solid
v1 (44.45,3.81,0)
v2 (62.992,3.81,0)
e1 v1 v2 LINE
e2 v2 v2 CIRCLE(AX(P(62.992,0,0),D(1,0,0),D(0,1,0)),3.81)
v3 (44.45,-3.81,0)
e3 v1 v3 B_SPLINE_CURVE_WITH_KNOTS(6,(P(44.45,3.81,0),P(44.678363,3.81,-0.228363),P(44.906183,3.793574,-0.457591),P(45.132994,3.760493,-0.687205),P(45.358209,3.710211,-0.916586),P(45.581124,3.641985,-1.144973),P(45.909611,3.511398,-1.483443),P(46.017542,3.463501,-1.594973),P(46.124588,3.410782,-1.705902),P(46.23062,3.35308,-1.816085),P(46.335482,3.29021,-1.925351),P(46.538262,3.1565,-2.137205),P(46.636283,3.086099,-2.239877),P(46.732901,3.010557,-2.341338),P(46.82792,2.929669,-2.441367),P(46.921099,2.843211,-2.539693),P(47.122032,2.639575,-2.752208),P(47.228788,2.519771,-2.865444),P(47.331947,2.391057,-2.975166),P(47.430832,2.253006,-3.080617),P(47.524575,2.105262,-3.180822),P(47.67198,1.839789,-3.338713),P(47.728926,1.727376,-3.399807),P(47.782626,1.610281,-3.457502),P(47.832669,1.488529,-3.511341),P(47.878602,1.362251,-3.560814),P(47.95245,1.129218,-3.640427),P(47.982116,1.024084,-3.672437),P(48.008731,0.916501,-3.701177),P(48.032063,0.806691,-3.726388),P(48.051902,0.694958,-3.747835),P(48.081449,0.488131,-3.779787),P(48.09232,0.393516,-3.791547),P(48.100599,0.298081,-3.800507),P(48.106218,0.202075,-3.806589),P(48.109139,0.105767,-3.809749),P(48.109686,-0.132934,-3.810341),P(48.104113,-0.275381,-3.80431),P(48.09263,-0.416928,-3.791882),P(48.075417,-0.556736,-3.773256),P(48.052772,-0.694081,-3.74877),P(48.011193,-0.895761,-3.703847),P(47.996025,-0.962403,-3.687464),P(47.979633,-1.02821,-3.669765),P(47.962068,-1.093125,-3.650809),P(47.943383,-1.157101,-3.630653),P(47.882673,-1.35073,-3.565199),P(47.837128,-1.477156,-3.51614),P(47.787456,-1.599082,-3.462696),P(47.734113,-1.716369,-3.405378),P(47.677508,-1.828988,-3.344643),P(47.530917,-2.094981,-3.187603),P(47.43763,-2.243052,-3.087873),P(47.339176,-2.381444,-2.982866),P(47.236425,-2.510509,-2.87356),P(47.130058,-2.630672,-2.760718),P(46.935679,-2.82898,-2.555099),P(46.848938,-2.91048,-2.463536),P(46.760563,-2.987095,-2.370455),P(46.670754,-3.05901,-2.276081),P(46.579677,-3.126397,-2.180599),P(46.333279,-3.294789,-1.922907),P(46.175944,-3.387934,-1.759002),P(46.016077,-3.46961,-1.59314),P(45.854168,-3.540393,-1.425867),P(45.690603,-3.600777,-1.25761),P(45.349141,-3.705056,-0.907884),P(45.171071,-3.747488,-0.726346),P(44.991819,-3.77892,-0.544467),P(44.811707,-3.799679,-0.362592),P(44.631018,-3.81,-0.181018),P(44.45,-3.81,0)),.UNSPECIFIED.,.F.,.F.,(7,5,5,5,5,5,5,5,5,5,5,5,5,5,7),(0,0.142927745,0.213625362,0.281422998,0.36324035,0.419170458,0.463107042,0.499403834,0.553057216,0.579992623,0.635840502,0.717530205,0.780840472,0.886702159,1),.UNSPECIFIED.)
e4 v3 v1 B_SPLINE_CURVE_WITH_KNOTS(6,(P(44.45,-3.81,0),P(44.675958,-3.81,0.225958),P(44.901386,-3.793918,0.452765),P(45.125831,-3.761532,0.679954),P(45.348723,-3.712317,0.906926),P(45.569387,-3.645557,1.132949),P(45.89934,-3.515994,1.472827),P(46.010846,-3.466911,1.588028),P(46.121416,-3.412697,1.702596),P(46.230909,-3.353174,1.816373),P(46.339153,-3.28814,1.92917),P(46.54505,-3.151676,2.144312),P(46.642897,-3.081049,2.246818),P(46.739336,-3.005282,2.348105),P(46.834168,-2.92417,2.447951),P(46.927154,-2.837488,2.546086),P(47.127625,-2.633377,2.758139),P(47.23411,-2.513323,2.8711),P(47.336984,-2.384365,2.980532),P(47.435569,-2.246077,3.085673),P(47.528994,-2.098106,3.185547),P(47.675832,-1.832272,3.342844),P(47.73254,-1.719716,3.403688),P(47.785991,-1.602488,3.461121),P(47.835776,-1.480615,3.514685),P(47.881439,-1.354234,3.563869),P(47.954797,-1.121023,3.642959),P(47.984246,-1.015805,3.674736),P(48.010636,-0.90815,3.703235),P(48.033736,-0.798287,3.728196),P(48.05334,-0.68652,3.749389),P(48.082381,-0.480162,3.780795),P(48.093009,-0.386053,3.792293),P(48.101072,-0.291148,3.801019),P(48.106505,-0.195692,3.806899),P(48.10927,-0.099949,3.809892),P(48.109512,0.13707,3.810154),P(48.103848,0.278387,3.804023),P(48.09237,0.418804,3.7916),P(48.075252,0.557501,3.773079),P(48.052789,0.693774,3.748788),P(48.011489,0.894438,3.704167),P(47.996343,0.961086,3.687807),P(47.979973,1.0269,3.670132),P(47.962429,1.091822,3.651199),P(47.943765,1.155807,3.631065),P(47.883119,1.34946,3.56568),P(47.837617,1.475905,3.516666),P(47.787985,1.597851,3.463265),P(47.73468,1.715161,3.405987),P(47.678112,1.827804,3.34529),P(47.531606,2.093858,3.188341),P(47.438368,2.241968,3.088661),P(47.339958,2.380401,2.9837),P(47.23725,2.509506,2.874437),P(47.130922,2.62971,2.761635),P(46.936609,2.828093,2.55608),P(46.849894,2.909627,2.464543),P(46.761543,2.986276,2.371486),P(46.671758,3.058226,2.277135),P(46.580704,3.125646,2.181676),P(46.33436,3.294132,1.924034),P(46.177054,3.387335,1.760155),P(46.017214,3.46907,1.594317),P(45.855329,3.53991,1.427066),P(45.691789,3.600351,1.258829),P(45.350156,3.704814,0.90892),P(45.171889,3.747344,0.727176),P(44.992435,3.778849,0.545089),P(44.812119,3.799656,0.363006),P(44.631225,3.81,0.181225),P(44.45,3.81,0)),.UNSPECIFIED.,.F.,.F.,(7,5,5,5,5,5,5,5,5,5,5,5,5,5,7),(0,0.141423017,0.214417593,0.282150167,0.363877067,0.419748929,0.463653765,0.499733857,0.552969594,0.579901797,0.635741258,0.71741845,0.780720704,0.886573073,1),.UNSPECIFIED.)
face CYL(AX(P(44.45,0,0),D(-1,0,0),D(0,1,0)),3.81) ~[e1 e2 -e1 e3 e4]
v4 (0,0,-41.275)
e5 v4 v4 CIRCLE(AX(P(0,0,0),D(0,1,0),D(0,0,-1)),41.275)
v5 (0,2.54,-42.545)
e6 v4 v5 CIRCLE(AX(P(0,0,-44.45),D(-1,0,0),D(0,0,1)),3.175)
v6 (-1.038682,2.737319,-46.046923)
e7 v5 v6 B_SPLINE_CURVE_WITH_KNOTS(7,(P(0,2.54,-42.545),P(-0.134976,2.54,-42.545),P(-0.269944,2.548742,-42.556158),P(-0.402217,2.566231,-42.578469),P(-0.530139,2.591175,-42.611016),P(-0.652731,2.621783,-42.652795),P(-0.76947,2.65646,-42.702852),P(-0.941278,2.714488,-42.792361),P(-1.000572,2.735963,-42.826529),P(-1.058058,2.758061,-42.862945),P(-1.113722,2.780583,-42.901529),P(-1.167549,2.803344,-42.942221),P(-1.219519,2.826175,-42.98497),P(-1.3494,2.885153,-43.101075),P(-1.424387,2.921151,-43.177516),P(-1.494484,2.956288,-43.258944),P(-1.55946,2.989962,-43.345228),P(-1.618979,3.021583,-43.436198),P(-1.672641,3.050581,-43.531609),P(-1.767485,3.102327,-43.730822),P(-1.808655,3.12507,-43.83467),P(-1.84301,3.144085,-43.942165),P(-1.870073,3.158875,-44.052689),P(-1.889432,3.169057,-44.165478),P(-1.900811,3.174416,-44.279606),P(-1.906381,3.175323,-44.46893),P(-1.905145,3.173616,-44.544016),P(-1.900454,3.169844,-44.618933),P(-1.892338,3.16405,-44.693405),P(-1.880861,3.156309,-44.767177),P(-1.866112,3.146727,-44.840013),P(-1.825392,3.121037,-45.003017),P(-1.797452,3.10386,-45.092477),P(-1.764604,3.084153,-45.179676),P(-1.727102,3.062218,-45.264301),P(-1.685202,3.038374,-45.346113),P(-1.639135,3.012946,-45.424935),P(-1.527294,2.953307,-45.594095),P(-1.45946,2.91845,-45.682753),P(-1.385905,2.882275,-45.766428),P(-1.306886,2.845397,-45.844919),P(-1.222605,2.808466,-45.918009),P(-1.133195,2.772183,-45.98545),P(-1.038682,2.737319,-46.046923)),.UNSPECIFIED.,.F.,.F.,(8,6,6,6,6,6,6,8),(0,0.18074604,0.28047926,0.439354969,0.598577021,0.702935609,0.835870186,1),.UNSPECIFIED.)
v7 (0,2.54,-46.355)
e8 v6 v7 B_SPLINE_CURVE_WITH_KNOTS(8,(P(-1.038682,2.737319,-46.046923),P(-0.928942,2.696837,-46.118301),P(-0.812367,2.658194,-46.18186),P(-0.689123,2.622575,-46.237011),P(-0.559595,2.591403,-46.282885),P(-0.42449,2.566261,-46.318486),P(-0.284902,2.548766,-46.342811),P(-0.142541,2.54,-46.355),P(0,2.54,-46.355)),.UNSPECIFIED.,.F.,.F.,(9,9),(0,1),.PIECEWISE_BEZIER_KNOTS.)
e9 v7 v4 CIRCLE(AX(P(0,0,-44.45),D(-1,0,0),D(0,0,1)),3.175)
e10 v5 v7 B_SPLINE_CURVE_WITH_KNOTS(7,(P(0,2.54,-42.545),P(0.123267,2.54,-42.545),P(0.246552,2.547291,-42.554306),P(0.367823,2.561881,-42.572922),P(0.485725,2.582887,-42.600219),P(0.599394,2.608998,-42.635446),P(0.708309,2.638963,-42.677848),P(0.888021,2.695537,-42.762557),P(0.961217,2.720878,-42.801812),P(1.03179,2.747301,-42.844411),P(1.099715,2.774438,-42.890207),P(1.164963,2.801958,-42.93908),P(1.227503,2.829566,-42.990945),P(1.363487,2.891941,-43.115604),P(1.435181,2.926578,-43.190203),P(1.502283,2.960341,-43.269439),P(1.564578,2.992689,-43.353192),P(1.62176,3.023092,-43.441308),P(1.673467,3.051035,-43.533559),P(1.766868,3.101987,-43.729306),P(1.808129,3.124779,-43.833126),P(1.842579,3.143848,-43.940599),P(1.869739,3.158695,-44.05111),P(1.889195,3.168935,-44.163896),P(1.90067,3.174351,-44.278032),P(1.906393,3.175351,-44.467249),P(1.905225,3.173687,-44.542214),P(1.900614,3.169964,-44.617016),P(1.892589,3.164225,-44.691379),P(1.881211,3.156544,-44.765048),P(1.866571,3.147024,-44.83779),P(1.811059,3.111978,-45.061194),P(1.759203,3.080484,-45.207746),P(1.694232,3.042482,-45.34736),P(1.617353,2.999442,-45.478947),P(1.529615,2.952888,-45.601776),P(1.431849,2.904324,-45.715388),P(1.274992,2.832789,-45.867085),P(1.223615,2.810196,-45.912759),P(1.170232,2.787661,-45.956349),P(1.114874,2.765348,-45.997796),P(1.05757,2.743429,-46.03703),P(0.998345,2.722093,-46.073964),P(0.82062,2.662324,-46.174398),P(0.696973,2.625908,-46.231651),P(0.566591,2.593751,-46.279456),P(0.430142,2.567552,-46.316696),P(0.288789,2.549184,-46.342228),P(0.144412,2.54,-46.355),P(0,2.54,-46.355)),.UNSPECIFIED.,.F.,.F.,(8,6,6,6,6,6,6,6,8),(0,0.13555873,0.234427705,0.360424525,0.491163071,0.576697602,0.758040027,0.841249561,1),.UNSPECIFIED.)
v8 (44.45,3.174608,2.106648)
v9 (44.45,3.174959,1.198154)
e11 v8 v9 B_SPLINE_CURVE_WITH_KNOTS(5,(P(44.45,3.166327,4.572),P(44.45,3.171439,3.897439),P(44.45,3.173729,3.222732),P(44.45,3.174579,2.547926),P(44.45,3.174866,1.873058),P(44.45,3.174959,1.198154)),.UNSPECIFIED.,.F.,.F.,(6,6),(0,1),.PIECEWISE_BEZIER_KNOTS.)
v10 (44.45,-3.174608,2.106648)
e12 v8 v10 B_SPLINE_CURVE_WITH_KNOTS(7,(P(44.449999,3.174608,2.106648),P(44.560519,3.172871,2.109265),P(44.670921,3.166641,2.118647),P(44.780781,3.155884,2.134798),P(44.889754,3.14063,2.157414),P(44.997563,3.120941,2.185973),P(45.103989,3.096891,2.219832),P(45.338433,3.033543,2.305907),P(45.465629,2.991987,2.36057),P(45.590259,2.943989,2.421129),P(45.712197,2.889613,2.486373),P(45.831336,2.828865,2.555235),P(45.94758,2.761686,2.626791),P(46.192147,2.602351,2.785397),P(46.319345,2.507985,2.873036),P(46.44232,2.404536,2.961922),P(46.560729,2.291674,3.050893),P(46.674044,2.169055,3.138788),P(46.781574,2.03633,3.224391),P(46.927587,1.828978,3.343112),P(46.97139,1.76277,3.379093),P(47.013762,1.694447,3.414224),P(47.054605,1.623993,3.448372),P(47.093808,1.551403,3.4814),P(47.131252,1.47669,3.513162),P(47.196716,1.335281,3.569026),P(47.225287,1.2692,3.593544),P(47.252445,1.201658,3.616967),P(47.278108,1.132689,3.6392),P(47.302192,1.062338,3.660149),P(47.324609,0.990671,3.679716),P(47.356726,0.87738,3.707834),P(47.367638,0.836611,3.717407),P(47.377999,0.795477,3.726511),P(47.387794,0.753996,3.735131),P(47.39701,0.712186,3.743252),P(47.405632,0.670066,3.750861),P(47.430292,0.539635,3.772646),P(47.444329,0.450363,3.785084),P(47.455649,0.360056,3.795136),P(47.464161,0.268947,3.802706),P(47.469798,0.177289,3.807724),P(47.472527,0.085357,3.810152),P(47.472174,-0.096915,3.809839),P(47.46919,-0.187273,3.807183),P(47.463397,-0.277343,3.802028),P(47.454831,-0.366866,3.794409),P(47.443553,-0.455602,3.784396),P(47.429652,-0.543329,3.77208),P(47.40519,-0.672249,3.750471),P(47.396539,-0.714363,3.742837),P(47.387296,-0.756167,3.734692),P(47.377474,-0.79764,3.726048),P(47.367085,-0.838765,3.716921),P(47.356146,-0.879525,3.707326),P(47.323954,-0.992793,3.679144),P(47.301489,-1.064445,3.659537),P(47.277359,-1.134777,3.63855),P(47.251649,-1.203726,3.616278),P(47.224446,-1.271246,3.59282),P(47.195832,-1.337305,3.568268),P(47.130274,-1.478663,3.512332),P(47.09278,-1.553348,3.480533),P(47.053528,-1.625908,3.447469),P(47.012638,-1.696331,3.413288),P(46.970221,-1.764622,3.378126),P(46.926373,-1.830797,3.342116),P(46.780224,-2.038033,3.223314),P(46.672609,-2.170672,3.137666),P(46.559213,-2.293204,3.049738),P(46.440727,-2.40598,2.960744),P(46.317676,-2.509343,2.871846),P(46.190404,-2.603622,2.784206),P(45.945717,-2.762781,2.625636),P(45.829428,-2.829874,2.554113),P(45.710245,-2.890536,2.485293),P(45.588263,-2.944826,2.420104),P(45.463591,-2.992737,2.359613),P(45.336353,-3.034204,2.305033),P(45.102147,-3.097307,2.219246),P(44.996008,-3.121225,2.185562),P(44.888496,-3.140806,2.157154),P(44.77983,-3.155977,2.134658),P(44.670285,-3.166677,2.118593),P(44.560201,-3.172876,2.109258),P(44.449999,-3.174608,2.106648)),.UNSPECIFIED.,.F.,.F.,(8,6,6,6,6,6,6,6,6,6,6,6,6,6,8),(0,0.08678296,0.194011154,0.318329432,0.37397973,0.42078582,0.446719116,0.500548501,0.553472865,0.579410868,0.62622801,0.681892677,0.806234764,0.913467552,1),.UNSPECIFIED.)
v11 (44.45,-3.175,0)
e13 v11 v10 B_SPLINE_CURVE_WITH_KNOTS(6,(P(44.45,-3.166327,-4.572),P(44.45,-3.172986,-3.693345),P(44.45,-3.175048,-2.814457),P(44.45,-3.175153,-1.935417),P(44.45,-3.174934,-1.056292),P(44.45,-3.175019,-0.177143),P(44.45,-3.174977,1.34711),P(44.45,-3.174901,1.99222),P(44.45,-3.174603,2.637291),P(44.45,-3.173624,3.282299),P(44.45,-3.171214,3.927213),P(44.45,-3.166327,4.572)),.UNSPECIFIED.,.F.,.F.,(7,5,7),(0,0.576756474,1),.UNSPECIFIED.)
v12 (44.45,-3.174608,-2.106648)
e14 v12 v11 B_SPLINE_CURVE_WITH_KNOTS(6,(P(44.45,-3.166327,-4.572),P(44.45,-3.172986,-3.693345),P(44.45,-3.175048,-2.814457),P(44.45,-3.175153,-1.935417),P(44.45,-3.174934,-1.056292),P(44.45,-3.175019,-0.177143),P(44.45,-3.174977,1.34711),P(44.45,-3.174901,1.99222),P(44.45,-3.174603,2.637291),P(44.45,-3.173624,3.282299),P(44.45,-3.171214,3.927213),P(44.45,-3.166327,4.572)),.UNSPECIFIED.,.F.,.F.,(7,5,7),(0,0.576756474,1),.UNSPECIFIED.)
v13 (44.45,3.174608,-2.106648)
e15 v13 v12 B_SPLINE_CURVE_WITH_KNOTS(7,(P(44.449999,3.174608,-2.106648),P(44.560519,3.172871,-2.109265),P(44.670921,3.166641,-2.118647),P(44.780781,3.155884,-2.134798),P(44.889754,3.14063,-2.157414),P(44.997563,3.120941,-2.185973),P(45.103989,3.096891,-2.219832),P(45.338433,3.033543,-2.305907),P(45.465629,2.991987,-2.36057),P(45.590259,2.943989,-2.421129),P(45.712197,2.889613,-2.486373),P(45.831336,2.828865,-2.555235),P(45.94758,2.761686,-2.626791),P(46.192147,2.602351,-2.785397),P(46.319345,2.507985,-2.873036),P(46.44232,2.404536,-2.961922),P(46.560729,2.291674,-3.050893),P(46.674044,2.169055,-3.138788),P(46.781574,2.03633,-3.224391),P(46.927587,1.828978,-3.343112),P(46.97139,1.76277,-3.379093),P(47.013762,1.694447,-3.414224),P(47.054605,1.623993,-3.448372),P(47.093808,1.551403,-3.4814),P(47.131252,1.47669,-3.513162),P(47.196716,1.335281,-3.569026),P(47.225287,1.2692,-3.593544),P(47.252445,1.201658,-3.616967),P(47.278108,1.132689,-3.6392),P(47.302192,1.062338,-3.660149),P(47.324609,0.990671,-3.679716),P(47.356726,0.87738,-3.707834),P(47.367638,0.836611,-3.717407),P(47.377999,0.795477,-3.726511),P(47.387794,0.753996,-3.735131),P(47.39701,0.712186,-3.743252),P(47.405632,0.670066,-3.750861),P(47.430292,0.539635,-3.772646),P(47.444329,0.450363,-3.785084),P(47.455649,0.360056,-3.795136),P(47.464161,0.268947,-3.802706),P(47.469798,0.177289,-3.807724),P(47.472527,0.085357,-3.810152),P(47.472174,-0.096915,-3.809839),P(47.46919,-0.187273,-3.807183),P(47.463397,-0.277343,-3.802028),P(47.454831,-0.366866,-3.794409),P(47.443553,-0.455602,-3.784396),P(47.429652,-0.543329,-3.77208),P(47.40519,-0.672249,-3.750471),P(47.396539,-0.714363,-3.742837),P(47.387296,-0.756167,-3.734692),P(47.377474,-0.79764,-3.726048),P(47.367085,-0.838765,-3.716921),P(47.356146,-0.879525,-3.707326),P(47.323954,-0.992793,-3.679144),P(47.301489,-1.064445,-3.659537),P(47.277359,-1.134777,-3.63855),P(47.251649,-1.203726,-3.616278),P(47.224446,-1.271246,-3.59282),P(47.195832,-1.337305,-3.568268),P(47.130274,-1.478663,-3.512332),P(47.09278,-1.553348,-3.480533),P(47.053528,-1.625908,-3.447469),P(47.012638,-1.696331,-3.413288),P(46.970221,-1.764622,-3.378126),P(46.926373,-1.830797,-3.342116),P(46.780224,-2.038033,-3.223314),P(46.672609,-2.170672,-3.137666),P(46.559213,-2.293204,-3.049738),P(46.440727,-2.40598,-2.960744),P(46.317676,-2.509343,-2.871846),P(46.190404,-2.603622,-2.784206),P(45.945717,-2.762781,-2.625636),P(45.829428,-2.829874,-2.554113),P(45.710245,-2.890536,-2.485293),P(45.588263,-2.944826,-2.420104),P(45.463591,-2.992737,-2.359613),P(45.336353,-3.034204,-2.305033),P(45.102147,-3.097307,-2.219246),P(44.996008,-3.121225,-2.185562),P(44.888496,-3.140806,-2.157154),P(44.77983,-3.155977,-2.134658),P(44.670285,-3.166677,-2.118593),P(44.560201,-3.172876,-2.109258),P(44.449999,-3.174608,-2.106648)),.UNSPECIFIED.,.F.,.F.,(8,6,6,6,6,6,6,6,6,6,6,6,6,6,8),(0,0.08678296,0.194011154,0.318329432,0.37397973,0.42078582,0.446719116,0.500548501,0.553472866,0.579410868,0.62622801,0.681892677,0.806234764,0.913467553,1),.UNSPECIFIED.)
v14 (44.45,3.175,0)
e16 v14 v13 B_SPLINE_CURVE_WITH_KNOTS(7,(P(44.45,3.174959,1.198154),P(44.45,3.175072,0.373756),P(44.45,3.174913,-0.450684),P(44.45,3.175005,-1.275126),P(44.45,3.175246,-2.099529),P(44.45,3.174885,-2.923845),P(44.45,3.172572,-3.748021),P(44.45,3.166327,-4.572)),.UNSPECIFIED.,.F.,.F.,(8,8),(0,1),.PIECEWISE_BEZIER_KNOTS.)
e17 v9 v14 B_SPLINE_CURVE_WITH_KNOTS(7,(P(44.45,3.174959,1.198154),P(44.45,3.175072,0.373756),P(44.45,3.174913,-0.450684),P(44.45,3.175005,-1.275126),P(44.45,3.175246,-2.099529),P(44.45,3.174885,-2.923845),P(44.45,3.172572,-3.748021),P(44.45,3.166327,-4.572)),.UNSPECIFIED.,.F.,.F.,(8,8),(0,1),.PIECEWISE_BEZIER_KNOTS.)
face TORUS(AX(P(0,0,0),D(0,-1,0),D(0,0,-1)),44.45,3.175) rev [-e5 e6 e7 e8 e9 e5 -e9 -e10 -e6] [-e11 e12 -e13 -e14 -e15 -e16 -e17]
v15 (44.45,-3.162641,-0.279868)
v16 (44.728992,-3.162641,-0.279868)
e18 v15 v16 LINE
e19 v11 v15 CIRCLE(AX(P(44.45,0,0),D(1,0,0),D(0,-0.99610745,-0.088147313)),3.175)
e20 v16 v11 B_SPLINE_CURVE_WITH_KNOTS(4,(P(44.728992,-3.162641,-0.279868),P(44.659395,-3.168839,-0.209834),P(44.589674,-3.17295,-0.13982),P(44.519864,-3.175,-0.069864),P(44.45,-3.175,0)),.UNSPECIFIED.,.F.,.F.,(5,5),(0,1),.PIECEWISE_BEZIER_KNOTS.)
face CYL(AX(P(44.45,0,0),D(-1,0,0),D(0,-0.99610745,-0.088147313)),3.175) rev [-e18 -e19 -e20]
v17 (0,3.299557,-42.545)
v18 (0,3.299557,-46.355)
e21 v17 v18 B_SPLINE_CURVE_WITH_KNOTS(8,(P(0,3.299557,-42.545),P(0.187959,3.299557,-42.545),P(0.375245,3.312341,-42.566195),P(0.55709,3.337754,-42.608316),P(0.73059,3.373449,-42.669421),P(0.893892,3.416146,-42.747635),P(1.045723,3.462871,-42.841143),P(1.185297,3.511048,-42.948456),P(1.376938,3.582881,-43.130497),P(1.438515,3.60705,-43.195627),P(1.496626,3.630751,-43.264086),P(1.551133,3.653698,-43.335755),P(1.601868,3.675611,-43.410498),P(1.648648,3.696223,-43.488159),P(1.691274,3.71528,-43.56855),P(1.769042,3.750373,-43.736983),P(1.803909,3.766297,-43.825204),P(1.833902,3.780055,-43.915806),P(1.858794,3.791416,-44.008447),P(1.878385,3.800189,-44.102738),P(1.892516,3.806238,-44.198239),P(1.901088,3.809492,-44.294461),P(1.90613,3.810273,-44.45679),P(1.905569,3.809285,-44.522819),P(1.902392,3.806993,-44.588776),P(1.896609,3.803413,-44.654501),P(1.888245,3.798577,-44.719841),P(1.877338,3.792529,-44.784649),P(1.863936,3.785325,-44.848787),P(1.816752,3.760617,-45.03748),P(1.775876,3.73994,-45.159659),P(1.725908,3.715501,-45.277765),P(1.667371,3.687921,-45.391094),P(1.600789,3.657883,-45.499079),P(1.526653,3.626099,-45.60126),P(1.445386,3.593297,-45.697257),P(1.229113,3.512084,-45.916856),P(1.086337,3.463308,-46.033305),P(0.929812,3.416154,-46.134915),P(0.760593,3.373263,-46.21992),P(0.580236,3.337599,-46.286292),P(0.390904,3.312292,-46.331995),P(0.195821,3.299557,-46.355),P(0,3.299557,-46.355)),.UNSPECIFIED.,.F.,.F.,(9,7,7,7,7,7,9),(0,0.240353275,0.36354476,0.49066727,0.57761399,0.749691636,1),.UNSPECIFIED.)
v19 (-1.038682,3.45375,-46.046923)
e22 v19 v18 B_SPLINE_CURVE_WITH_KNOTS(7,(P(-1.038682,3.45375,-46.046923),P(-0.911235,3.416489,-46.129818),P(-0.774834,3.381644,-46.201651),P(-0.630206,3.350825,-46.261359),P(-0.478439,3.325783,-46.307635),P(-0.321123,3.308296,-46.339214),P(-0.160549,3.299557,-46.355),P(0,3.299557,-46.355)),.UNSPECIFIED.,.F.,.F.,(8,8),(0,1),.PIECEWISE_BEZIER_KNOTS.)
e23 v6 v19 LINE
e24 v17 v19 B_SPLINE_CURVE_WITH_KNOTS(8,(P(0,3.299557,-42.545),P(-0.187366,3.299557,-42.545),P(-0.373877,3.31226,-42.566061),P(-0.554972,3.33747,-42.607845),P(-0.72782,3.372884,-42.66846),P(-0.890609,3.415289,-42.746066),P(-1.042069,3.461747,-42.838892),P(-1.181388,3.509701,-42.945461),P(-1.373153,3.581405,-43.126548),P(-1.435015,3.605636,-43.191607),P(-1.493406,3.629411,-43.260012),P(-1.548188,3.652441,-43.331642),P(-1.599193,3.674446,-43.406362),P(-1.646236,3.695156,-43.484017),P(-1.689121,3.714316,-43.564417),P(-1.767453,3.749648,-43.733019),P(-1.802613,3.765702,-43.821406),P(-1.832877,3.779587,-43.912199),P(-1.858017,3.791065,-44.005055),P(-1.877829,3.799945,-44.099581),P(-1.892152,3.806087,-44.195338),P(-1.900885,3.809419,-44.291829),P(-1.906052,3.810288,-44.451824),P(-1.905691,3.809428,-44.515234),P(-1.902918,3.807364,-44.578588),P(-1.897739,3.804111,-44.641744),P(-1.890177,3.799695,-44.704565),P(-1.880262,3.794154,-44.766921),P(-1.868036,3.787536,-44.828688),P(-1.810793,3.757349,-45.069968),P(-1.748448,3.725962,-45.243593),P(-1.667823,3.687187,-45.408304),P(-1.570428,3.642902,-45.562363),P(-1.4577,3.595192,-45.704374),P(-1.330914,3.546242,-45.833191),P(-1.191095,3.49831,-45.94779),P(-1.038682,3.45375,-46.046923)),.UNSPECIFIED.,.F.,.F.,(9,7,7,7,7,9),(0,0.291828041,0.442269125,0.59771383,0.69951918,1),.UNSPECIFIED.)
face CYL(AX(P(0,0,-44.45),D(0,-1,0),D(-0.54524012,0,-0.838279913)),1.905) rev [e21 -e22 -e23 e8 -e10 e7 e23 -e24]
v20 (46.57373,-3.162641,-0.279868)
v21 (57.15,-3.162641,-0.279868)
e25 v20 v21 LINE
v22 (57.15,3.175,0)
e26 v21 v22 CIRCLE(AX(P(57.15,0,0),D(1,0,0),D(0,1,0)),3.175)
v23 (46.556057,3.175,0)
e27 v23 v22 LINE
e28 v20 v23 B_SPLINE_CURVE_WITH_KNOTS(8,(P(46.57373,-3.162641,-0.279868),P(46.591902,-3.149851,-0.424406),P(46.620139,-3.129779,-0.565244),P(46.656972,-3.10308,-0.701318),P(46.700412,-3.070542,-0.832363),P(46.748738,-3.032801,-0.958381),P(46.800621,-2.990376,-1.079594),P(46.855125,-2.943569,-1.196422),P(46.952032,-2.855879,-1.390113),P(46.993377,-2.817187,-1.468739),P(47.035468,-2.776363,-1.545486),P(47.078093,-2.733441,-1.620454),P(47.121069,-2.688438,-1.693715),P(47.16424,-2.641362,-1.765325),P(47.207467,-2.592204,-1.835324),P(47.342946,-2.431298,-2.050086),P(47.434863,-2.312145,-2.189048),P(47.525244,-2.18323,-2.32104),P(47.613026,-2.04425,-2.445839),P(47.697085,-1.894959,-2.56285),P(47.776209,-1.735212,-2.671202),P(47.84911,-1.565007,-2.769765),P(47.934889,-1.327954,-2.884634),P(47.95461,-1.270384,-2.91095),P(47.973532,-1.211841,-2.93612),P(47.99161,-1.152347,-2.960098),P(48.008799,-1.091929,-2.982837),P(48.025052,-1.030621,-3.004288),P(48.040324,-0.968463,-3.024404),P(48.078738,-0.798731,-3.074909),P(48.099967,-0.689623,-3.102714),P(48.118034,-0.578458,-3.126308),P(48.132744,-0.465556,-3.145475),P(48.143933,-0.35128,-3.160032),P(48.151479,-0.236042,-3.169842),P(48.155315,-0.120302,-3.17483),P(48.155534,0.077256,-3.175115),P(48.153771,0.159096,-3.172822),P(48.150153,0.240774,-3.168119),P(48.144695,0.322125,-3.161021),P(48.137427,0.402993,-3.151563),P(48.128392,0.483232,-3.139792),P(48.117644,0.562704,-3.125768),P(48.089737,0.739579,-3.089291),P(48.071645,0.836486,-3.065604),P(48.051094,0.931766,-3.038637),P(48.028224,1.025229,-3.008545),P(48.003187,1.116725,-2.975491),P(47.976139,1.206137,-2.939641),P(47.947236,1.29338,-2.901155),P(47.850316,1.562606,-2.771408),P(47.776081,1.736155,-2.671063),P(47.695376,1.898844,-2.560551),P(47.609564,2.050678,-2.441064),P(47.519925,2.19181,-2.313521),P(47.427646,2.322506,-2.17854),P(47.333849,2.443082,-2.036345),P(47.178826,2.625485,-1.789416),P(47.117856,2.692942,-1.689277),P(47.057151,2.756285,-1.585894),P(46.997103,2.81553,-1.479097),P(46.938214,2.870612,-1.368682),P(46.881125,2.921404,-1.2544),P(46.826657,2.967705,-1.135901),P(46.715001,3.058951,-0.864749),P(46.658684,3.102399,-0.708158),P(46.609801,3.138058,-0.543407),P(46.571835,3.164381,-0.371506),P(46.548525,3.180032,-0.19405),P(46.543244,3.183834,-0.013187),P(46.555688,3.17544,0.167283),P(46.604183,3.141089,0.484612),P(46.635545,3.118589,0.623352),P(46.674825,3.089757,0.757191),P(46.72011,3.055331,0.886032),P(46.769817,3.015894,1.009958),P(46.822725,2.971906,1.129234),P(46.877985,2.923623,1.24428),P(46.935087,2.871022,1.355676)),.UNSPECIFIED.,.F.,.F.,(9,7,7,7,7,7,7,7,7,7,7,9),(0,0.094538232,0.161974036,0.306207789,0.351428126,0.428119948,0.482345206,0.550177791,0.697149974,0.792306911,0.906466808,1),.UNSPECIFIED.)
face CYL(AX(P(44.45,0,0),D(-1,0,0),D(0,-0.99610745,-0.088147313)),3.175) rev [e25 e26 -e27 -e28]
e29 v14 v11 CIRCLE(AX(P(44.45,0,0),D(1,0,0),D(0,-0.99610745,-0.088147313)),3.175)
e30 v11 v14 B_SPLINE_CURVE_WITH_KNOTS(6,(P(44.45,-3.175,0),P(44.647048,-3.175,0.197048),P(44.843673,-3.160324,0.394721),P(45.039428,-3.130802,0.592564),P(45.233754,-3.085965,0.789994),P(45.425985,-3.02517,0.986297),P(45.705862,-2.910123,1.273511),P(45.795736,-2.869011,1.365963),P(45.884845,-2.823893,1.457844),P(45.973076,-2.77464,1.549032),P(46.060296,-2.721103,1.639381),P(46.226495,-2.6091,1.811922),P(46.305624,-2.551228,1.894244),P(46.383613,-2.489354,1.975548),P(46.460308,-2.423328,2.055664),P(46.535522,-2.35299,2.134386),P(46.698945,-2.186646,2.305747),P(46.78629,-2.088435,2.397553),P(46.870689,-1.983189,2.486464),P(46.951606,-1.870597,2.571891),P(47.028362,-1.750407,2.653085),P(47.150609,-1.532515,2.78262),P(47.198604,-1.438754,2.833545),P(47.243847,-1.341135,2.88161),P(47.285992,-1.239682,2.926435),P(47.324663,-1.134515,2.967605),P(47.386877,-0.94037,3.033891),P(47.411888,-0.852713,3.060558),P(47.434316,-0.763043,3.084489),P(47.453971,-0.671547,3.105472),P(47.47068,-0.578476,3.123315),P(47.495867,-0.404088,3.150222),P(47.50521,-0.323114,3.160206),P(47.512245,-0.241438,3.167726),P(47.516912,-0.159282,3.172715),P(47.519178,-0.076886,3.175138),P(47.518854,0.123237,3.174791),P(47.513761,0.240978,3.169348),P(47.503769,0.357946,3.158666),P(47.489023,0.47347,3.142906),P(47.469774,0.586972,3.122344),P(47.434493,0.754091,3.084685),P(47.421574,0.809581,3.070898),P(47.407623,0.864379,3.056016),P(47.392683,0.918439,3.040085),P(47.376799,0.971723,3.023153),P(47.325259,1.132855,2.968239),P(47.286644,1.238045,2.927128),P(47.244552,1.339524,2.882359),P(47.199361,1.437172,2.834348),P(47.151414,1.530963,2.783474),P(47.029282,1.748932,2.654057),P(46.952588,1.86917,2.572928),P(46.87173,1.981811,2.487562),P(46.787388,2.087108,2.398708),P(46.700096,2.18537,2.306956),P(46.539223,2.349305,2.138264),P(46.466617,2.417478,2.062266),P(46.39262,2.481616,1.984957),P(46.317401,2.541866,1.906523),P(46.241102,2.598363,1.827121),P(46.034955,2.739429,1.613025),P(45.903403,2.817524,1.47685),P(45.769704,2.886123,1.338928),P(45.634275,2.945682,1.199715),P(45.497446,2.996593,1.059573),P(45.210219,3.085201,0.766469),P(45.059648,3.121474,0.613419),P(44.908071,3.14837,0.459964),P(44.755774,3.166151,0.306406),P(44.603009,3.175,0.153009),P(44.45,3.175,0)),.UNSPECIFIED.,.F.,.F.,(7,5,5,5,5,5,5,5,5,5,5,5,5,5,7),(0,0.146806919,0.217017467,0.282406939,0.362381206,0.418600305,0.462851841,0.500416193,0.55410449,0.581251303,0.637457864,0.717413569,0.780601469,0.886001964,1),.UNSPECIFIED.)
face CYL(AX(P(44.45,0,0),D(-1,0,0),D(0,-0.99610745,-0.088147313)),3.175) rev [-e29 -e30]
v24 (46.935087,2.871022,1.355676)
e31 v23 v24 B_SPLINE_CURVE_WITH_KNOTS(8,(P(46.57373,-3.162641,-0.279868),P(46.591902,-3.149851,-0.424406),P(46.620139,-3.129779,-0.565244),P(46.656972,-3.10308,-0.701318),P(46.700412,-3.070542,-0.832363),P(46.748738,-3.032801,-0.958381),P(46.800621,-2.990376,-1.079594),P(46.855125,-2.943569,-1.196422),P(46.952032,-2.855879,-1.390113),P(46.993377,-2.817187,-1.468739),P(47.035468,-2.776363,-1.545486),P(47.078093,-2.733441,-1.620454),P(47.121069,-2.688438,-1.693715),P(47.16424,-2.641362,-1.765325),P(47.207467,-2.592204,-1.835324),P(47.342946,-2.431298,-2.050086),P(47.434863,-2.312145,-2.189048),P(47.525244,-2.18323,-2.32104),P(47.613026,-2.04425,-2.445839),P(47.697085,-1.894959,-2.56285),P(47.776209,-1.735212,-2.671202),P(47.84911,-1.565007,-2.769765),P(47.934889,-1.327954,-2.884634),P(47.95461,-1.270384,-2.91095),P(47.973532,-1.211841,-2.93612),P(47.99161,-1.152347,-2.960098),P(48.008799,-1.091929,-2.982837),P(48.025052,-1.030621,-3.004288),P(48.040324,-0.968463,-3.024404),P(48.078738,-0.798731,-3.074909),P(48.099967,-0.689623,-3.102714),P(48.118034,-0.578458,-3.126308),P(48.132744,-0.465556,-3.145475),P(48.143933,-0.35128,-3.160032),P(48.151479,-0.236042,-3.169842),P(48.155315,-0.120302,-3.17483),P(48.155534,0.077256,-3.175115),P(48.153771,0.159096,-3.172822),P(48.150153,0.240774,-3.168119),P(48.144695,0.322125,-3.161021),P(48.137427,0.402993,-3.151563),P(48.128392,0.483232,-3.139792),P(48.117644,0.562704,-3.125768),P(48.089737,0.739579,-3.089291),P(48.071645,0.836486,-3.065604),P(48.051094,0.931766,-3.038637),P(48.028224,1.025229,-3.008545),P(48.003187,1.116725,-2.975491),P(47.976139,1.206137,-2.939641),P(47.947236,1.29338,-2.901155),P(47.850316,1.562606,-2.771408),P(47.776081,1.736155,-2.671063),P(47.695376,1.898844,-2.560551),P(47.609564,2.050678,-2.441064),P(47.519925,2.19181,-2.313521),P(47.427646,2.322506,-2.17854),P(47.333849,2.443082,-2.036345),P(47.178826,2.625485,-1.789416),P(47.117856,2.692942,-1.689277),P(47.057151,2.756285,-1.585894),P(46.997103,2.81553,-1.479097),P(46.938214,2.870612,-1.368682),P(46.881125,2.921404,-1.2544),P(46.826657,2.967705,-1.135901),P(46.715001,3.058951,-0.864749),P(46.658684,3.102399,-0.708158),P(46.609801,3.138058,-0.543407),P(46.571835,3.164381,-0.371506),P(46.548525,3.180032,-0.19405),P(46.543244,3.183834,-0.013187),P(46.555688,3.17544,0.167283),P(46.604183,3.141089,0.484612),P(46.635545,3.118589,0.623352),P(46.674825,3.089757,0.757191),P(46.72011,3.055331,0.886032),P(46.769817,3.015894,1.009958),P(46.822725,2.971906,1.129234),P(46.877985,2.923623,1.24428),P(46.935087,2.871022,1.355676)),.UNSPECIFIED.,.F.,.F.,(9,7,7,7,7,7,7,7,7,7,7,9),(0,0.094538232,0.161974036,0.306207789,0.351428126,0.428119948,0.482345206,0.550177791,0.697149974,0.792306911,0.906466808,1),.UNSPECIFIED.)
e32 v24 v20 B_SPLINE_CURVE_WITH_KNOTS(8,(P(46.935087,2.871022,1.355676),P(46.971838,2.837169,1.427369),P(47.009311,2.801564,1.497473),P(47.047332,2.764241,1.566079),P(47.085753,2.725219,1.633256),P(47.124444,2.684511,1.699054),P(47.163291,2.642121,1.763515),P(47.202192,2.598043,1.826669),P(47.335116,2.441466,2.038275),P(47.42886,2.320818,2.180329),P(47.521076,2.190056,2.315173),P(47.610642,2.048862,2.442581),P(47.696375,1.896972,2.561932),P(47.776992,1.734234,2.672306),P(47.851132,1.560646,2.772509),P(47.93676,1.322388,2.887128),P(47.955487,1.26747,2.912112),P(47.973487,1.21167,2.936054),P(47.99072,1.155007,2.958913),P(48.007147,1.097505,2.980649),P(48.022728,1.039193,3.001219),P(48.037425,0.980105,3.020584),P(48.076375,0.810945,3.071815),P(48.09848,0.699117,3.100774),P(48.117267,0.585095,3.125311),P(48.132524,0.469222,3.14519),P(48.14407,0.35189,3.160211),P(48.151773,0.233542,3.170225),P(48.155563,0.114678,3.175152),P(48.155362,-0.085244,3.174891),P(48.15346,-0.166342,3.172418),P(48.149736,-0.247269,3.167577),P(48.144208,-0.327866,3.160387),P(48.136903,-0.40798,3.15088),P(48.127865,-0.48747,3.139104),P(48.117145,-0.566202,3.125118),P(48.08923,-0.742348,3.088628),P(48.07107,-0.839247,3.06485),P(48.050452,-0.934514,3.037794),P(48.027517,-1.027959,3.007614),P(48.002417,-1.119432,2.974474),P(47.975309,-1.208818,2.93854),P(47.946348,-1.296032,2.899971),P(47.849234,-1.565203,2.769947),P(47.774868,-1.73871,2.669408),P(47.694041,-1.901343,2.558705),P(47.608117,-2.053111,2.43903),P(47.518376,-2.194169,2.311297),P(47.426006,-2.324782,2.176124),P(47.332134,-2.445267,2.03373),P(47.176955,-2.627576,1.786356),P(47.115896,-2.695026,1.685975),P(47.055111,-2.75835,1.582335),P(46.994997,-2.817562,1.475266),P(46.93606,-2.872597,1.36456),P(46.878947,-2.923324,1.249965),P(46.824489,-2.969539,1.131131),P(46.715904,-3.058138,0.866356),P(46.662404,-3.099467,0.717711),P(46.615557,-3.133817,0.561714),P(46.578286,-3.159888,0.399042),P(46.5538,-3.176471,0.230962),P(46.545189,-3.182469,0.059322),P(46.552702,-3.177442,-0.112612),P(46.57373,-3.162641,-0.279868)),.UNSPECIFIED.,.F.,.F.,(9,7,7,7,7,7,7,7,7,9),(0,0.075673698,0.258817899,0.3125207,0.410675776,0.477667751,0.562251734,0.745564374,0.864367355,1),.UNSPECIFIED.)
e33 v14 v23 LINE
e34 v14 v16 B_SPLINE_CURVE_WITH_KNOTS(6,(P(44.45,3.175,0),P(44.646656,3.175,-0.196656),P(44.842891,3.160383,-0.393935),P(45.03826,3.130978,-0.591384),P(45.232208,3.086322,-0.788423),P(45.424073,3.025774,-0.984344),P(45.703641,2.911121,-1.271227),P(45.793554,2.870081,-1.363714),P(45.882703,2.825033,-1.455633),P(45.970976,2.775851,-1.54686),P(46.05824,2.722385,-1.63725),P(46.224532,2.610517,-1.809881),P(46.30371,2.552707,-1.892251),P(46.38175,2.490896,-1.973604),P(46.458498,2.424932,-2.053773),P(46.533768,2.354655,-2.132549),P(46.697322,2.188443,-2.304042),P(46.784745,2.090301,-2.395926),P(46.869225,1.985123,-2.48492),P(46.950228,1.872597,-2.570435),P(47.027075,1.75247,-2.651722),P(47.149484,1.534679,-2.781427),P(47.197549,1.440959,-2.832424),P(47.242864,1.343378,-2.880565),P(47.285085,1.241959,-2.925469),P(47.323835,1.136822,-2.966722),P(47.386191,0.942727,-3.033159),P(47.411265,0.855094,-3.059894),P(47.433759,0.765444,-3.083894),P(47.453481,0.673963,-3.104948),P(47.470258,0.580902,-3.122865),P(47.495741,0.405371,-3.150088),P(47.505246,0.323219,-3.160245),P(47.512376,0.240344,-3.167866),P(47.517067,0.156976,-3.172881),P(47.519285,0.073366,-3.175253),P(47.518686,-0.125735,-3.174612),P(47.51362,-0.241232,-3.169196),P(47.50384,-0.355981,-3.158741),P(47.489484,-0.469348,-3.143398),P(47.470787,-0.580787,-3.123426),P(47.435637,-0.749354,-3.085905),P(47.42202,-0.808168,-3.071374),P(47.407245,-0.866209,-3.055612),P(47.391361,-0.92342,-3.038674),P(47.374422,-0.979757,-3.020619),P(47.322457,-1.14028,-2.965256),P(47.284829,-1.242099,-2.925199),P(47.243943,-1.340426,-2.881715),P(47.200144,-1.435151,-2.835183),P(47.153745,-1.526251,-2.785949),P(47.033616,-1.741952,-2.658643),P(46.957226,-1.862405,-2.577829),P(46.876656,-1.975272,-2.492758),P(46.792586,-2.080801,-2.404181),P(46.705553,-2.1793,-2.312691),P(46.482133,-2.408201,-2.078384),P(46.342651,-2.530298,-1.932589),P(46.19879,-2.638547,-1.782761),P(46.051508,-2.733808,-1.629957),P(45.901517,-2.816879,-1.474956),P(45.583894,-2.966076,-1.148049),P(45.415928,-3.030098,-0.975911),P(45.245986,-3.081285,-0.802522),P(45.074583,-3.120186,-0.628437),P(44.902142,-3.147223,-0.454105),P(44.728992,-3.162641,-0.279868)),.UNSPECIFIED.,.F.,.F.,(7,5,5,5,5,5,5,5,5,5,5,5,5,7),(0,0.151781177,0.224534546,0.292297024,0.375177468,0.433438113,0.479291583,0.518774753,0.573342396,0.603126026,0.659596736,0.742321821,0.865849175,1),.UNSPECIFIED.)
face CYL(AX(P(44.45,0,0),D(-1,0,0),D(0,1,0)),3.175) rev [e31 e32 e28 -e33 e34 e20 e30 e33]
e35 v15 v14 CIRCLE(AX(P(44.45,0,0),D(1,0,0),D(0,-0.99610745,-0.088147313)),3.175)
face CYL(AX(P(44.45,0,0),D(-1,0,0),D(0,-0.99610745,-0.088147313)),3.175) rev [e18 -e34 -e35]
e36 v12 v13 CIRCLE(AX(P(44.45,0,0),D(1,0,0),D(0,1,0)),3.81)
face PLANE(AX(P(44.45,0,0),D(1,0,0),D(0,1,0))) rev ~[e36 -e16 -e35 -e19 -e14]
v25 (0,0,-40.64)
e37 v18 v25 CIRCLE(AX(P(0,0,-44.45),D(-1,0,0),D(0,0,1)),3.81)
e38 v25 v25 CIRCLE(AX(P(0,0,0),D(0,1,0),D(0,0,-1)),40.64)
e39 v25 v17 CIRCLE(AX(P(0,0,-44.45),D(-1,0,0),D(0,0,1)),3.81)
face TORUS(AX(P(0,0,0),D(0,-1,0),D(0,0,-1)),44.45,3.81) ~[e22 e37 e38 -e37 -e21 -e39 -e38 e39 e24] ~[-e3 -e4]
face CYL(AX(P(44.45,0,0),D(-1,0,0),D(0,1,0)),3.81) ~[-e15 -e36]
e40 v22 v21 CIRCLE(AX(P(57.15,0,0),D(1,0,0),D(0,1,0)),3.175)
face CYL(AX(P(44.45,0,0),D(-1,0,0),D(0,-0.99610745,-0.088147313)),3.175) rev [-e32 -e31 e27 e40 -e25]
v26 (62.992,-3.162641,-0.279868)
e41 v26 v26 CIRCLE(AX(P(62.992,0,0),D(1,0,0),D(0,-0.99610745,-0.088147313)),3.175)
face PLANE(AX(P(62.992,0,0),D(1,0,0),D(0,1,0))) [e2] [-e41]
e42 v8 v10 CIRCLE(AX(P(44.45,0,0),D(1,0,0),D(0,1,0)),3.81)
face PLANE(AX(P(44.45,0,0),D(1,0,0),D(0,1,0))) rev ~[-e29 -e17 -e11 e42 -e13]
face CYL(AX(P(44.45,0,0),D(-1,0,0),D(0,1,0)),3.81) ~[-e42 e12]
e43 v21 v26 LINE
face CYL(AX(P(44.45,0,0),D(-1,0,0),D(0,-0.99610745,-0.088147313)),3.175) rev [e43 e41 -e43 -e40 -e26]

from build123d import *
from build123d.topology import SkipClean

# Parameters (mm, degrees)
SKETCH1_R           = 3.81
SKETCH1_R_2         = 3.175
SKETCH3_R           = 3.81
SKETCH3_R_2         = 3.175
BOSS_EXTRUDE1_DEPTH = 18.542
SKETCH4_R           = 3.175
CUT_EXTRUDE5_DEPTH  = 12.7
SKETCH5_R           = 1.905
CUT_EXTRUDE6_DEPTH  = 12.7


with BuildPart() as part:
    # Sketch1 → Revolve1 (revolve)
    with BuildSketch(Plane.XY, mode=Mode.PRIVATE) as revolve1_sk:
        with Locations((-44.45, 0)):
            Circle(SKETCH1_R)
        with Locations((-44.45, 0)):
            Circle(SKETCH1_R_2, mode=Mode.SUBTRACT)
    revolve(revolve1_sk.sketch.rotate(Axis((0, 0, 0), (0, 1, 0)), 270), axis=Axis((0, 0, 0), (0, 1, 0)))

    # Sketch3 → Boss-Extrude1 (add)
    with SkipClean():  # the faces are left unmerged after this step: merging them gives an invalid solid
        with BuildSketch(Plane(origin=(44.45, 0, 0), x_dir=(0, 0, -1), z_dir=(1, 0, 0))):
            with Locations(Location((0, 0, 0), (0, 0, 90))):
                Circle(SKETCH3_R)
            with Locations(Location((0, 0, 0), (0, 0, 275.057032313))):
                Circle(SKETCH3_R_2, mode=Mode.SUBTRACT)
        extrude(amount=BOSS_EXTRUDE1_DEPTH)

    # Sketch4 → Cut-Extrude5 (cut)
    with SkipClean():  # the faces are left unmerged after this step: merging them gives an invalid solid
        with BuildSketch(Plane(origin=(44.45, 0, 0), x_dir=(0, 0, -1), z_dir=(1, 0, 0))):
            with Locations(Location((0, 0, 0), (0, 0, 90))):
                Circle(SKETCH4_R)
        extrude(amount=CUT_EXTRUDE5_DEPTH, mode=Mode.SUBTRACT)

    # Sketch5 → Cut-Extrude6 (cut)
    with SkipClean():  # the faces are left unmerged after this step: merging them gives an invalid solid
        with BuildSketch(Plane(origin=(0, 0, 0), x_dir=(1, 0, 0), z_dir=(0, 1, 0))):
            with Locations(Location((0, 44.45, 0), (0, 0, 123.04107409))):
                Circle(SKETCH5_R)
        extrude(amount=CUT_EXTRUDE6_DEPTH, mode=Mode.SUBTRACT)


solid = part.part
